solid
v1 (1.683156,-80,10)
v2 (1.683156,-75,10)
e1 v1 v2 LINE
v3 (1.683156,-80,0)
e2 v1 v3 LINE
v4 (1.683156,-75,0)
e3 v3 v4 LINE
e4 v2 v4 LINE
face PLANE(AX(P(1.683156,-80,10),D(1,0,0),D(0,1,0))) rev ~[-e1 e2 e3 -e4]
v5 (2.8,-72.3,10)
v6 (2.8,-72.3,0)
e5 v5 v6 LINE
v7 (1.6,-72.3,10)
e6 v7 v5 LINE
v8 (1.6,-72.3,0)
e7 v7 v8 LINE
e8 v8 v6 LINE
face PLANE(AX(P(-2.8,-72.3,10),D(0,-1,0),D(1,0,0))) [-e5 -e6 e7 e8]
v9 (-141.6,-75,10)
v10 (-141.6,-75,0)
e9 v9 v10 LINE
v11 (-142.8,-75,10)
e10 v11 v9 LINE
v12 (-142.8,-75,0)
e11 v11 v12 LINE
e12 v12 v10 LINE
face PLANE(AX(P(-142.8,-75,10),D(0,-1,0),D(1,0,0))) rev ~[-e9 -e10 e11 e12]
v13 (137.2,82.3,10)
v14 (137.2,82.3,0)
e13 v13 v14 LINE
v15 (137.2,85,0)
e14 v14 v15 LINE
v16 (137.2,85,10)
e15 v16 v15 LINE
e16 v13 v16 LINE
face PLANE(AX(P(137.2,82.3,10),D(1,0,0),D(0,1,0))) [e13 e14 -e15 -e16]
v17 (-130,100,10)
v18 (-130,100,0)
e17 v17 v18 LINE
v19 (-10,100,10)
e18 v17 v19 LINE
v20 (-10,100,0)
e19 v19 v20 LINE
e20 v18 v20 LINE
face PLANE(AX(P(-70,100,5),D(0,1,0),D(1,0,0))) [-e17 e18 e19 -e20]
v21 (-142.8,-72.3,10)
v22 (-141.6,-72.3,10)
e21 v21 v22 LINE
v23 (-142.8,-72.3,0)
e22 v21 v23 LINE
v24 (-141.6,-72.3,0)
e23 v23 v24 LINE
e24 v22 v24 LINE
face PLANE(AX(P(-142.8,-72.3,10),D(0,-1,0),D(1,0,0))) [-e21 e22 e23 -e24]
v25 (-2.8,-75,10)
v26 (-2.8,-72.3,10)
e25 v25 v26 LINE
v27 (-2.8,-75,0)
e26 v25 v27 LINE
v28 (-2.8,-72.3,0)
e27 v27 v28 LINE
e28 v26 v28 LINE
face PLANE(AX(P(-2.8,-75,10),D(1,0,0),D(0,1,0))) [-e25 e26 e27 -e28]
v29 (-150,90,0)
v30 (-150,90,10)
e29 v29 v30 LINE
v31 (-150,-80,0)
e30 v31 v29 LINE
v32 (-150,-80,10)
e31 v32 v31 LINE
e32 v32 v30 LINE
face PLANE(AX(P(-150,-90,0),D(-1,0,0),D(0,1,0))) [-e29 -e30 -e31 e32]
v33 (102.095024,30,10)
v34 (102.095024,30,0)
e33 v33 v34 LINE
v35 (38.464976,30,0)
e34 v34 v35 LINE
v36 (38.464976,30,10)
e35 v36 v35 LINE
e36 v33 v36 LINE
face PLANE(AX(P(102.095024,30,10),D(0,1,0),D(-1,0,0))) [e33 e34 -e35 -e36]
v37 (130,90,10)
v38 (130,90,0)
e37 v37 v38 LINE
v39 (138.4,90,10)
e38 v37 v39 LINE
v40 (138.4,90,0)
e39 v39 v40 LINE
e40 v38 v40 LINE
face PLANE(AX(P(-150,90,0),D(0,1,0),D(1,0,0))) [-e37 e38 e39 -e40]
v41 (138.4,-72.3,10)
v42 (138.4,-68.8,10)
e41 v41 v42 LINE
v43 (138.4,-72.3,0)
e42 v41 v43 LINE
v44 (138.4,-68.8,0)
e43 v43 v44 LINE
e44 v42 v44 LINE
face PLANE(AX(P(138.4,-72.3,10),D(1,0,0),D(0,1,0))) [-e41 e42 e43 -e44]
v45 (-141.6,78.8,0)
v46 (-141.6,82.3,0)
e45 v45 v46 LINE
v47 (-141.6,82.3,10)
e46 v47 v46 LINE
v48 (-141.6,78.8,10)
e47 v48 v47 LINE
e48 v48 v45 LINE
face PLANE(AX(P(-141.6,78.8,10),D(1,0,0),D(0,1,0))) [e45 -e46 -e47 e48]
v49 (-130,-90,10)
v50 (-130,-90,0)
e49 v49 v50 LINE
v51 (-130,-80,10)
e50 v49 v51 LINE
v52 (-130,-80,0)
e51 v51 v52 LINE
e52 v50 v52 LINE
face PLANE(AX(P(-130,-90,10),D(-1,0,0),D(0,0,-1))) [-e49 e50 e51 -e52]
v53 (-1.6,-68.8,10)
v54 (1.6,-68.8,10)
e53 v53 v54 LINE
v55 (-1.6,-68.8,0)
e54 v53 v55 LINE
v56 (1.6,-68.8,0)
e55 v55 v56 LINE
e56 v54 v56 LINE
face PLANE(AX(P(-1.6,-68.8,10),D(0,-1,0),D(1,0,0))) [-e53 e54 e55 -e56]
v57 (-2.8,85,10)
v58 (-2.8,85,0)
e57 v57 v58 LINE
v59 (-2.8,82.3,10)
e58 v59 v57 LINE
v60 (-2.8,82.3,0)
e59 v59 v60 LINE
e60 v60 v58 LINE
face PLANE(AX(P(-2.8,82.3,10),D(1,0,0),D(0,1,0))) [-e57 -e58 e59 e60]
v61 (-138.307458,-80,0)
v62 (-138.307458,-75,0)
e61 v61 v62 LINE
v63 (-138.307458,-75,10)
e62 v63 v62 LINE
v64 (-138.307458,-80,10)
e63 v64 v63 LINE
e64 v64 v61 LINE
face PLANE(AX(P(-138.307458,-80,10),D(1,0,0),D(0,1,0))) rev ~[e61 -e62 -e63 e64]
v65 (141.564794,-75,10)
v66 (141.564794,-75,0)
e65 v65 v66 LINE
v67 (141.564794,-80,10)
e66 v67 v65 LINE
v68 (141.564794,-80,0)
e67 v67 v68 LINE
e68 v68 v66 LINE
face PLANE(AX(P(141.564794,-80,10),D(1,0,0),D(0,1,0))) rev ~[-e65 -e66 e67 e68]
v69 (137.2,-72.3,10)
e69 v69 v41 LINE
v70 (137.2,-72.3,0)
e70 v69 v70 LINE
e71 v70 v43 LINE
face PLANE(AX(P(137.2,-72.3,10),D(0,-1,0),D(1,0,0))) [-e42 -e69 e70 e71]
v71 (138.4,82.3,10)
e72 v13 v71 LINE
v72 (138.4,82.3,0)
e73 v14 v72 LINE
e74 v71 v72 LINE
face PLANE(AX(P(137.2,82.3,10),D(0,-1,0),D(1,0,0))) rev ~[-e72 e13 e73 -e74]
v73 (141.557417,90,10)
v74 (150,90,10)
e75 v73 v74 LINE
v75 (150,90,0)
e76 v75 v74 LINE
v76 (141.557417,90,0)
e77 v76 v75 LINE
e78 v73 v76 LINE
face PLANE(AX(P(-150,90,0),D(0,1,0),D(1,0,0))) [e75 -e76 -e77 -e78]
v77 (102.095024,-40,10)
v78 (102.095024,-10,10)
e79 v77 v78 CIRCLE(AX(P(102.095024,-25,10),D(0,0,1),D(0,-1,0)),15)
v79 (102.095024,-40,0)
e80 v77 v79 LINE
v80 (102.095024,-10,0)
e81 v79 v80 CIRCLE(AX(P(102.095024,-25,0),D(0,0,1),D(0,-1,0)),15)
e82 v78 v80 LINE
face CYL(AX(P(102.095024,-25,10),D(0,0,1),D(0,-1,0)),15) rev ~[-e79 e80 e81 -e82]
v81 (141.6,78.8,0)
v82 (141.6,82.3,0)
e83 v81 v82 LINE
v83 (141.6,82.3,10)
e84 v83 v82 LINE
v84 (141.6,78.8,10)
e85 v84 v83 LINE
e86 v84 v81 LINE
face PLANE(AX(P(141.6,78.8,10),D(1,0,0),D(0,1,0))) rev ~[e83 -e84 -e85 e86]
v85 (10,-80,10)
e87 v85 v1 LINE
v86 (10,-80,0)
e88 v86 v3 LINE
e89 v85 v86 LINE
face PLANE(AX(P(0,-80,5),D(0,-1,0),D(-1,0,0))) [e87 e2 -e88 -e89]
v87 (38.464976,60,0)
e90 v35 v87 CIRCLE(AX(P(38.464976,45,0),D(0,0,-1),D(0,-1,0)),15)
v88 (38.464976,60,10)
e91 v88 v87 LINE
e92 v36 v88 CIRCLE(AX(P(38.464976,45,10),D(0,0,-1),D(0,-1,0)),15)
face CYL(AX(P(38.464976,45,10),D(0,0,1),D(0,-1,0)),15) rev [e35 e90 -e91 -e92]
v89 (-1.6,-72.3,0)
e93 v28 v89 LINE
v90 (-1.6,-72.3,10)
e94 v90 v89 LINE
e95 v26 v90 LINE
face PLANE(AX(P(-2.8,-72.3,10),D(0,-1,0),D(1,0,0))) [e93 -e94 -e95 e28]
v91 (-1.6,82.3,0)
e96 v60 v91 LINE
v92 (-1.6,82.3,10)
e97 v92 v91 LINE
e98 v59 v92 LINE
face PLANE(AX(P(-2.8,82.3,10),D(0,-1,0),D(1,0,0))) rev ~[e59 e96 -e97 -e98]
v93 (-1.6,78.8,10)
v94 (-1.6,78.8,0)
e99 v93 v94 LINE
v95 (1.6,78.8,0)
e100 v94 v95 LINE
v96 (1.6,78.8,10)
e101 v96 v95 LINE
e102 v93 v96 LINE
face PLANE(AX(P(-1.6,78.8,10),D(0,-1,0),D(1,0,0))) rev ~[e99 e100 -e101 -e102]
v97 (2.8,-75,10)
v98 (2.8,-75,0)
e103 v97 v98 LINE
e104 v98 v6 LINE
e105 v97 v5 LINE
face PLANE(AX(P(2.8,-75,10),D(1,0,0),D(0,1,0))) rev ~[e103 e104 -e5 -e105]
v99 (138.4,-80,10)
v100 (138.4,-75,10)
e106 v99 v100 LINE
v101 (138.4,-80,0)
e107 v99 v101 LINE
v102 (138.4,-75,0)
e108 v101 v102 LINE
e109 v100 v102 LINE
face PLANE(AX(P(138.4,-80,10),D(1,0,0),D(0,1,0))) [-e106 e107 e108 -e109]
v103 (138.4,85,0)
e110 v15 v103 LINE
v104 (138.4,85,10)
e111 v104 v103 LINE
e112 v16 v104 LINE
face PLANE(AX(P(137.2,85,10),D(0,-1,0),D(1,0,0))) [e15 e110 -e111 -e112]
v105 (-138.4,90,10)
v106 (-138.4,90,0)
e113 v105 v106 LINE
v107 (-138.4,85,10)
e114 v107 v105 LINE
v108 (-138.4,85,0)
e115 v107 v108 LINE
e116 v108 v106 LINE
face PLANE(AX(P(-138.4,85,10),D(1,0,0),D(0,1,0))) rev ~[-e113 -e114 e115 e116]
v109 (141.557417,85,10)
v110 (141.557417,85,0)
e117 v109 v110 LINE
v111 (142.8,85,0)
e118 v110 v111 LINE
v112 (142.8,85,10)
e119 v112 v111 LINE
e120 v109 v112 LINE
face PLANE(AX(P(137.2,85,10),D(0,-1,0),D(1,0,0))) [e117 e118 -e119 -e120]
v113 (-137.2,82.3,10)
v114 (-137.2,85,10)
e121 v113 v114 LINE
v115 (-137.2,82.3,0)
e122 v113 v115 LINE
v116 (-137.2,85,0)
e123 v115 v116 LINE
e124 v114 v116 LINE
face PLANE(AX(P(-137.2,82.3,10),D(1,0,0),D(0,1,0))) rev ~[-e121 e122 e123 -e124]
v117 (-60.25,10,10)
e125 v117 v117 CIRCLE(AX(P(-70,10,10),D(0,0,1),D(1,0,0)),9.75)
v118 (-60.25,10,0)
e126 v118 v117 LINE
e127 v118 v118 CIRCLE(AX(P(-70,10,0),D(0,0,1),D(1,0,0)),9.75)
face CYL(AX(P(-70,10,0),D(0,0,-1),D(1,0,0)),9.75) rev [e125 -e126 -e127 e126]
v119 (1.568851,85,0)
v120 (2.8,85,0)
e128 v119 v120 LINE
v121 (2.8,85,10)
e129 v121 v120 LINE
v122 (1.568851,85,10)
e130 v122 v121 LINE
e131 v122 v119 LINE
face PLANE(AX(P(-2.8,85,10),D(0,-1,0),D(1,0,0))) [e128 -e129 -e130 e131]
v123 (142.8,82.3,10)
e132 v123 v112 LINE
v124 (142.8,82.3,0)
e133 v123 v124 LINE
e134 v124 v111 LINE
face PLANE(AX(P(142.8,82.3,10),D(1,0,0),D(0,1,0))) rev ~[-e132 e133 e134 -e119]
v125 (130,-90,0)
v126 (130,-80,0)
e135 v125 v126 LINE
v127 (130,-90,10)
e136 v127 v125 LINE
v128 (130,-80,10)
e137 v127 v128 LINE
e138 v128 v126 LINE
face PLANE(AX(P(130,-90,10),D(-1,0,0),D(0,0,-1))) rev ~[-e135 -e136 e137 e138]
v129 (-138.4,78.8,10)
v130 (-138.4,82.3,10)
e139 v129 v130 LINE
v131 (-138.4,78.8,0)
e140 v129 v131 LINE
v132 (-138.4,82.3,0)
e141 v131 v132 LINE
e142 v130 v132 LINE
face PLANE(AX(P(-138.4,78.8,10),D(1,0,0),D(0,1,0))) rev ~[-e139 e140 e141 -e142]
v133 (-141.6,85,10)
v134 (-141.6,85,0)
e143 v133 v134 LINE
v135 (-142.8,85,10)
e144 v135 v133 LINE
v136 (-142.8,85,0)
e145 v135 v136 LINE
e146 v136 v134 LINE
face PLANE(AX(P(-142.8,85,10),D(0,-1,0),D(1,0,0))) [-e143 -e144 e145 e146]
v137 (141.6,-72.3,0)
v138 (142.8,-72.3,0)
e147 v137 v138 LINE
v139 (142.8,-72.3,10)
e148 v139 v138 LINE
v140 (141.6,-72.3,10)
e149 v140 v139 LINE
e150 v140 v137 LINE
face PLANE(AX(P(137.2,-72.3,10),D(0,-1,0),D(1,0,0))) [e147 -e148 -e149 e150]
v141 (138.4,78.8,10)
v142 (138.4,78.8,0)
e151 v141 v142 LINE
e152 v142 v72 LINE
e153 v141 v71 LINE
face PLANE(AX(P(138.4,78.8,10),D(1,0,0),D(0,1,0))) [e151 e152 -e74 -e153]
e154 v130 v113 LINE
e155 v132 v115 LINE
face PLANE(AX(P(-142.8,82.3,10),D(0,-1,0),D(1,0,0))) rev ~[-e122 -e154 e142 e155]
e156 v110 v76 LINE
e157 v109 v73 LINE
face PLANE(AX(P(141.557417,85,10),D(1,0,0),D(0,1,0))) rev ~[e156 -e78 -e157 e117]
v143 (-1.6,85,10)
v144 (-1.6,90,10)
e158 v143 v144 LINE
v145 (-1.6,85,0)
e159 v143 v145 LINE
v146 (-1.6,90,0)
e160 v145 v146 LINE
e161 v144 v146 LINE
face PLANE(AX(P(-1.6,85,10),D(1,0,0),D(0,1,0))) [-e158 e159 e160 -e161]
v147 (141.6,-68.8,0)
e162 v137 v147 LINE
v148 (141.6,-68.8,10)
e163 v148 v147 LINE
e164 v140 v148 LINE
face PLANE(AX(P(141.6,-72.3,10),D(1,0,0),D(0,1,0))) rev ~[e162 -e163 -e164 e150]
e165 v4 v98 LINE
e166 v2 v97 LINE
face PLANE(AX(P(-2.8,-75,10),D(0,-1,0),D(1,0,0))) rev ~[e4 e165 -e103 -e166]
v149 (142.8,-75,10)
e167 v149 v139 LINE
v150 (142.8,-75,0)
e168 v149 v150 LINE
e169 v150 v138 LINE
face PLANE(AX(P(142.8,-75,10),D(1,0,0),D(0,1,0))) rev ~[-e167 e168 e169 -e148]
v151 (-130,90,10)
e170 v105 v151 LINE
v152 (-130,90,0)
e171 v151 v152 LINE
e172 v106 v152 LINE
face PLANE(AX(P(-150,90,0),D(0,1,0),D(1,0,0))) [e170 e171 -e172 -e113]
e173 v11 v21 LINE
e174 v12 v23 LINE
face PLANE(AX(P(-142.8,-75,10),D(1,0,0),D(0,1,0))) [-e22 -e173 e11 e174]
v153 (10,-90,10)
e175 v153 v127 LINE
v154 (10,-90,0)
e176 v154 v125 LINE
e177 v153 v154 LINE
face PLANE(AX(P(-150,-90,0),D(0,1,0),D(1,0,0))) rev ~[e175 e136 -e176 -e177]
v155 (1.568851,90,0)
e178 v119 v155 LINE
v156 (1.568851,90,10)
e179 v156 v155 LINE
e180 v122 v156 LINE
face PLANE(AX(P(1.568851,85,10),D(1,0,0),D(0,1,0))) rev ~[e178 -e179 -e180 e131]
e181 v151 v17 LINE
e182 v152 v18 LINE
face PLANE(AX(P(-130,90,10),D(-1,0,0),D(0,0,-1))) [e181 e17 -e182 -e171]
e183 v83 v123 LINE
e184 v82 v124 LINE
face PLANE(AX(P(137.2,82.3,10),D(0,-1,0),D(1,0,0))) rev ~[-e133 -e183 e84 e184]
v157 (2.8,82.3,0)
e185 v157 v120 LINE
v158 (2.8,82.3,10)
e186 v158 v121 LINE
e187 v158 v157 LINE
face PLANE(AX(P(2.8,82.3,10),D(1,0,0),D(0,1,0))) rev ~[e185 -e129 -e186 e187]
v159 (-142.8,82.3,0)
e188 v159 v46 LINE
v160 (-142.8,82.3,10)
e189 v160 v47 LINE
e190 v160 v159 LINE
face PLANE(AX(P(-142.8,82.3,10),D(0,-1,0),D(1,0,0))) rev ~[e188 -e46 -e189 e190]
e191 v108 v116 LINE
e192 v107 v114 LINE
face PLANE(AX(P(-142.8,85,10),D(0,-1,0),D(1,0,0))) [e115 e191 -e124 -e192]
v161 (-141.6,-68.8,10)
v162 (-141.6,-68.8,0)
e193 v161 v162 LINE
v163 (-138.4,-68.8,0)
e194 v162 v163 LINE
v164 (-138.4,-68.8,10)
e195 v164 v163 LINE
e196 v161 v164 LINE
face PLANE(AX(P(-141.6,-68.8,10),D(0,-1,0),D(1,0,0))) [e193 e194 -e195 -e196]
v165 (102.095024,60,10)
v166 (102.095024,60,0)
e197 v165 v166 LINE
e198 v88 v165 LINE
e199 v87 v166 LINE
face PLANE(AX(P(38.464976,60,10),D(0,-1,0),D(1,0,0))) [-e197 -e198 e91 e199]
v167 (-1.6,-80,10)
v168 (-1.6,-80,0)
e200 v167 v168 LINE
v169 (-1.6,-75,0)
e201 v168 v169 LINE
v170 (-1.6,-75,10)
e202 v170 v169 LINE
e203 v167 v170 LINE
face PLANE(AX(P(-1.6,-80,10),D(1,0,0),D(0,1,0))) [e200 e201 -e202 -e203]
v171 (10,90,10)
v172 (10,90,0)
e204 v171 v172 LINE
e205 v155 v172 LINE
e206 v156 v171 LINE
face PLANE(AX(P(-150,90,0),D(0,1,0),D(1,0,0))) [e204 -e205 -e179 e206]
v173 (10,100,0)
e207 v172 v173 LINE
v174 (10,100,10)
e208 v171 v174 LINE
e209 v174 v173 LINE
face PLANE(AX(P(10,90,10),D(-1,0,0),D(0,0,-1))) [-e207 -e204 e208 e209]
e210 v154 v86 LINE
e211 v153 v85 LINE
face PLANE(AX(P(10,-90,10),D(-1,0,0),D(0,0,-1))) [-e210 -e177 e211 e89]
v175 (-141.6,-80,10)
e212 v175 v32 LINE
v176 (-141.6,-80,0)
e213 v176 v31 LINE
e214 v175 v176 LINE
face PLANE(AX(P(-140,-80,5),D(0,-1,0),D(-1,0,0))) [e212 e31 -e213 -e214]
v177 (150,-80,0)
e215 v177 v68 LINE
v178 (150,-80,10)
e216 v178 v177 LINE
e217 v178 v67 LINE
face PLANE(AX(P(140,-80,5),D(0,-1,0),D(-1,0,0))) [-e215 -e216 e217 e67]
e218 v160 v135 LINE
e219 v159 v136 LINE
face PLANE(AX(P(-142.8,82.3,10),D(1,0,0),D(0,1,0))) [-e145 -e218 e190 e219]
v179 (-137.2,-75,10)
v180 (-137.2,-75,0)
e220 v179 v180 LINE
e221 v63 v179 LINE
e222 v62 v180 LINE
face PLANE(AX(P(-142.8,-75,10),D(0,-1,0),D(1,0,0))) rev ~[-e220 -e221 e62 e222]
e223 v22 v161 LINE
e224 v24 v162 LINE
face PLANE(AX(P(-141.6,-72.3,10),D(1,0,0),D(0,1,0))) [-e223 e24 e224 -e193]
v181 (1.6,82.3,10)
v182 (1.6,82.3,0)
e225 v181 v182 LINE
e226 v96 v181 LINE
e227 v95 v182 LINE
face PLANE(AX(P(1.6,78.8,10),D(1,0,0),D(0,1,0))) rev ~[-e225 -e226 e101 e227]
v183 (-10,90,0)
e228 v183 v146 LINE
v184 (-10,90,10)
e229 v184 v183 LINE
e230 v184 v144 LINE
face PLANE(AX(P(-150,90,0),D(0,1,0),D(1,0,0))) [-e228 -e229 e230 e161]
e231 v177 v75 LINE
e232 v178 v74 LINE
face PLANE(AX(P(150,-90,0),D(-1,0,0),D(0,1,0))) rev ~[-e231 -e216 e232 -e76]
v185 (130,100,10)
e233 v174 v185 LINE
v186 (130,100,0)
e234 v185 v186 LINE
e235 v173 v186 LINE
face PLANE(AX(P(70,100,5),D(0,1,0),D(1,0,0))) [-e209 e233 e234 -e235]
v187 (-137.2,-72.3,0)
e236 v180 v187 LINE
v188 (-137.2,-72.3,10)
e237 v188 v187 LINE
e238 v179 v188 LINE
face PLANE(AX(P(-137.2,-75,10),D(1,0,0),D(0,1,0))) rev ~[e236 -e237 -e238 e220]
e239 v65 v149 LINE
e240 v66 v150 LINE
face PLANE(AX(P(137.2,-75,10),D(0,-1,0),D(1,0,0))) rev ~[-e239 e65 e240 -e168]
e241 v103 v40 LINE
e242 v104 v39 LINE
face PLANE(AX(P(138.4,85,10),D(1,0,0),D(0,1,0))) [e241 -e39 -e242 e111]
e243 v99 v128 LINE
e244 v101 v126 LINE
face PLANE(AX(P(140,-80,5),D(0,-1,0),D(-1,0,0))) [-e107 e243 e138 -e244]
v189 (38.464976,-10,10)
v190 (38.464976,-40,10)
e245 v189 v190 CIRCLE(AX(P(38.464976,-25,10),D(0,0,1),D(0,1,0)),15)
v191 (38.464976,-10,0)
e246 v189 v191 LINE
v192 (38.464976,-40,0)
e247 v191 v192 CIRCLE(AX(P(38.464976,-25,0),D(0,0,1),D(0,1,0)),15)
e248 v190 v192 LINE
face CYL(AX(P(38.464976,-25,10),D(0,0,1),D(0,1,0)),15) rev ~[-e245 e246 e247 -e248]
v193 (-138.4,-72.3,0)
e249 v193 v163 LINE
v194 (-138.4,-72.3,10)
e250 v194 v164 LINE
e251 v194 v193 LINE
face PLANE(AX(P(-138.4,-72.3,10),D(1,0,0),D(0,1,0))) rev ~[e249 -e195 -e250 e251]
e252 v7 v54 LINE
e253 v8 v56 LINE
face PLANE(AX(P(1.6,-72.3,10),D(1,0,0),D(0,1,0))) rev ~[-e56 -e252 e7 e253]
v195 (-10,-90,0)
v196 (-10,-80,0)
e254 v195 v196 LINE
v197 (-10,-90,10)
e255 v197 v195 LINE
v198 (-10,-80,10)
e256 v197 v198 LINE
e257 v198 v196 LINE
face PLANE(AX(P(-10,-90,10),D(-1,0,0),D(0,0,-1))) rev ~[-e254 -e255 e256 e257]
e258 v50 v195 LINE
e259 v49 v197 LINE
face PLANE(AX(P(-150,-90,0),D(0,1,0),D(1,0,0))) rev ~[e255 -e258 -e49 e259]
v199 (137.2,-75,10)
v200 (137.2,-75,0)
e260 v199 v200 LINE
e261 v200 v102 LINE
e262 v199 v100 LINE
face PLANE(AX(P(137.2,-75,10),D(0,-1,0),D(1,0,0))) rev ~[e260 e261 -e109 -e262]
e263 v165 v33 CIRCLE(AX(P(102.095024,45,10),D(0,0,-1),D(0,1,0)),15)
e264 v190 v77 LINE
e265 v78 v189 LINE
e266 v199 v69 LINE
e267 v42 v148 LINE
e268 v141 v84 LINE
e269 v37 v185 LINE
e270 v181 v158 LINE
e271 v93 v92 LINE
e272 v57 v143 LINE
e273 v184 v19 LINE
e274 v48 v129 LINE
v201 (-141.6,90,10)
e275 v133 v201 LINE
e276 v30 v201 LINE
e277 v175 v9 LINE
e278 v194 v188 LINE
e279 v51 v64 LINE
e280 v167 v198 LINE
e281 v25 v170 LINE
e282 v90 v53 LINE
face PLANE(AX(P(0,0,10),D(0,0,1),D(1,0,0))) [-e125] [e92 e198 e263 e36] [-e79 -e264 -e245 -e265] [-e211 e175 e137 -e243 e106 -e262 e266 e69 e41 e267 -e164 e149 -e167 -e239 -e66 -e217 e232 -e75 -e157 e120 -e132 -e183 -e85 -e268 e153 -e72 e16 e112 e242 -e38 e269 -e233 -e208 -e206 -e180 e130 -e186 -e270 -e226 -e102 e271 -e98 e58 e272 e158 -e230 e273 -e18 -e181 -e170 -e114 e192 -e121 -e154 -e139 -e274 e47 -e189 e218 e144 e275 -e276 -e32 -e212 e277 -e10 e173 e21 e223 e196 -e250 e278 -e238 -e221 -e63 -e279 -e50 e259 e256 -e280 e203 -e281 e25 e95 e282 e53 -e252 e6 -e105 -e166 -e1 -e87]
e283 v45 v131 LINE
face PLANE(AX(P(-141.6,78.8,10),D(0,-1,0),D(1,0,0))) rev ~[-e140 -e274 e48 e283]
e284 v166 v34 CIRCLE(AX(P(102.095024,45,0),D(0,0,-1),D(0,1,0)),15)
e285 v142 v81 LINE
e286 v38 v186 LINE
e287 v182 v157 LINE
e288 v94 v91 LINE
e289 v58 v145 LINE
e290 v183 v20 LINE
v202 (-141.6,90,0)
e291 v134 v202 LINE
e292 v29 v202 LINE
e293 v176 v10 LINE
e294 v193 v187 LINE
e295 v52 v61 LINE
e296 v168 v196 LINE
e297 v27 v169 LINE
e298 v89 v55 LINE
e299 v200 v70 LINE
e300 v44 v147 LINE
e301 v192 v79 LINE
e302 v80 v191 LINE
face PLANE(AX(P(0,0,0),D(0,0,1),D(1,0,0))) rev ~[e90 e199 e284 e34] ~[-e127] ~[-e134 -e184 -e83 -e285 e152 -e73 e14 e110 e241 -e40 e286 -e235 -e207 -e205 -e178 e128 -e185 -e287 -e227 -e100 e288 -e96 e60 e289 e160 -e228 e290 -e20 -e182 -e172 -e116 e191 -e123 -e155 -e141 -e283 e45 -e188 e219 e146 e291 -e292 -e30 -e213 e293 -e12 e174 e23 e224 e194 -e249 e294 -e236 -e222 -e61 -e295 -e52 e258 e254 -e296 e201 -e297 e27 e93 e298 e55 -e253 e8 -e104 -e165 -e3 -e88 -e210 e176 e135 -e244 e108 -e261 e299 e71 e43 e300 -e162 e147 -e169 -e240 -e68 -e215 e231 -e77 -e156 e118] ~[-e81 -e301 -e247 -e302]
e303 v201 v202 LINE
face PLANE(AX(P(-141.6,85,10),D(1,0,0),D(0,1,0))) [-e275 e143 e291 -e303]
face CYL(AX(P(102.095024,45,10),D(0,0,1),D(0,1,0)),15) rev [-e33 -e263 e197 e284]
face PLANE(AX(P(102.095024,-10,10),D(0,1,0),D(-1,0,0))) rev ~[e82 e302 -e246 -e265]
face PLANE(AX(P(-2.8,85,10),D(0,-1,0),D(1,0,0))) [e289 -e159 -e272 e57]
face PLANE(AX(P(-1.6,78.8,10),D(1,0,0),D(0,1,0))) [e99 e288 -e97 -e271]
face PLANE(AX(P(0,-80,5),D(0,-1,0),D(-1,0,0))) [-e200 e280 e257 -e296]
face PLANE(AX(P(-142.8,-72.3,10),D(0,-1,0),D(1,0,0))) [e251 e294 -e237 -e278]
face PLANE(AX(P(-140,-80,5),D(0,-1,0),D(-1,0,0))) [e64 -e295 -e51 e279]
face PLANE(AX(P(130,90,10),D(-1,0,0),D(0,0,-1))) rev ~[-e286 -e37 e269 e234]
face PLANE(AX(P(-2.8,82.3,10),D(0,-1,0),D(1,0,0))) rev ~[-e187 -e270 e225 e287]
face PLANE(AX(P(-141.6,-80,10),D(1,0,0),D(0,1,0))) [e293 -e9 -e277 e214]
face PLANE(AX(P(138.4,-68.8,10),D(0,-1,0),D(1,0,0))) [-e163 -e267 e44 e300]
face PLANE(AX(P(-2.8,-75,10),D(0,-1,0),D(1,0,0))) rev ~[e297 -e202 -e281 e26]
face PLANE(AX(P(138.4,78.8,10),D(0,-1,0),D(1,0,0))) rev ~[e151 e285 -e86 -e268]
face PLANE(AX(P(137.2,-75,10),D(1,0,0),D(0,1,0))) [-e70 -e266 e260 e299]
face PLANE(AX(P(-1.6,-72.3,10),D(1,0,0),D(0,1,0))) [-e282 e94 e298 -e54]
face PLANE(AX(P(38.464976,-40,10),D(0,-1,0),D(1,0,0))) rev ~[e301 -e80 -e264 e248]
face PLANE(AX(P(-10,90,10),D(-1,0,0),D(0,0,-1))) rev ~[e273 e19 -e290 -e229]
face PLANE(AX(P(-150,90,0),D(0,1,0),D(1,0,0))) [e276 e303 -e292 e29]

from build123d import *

# Parameters (mm, degrees)
IZIM1_W                     = 300
IZIM1_H                     = 180
IZIM1_R                     = 9.75
Y_KSEKLIK_EKSTR_ZYON1_DEPTH = 10
IZIM2_W                     = 120
IZIM2_H                     = 10
Y_KSEKLIK_EKSTR_ZYON2_DEPTH = 10
IZIM3_W                     = 20
IZIM3_H                     = 10
KES_EKSTR_ZYON1_DEPTH       = 10
IZIM4_W                     = 5.6
IZIM4_H                     = 2.7
KES_EKSTR_ZYON2_DEPTH       = 10
IZIM5_W                     = 3.2
IZIM5_H                     = 3.5
IZIM5_W_2                   = 3.168851203
IZIM5_H_2                   = 5
IZIM5_H_3                   = 5.09138305
IZIM5_W_3                   = 3.157417266
IZIM5_W_4                   = 3.164794192
IZIM5_W_5                   = 3.283155767
IZIM5_W_6                   = 3.292541888
KES_EKSTR_ZYON3_DEPTH       = 10
KES_EKSTR_ZYON4_DEPTH       = 10


with BuildPart() as part:
    # Çizim1 → Yükseklik-Ekstrüzyon1 (new body)
    with BuildSketch(Plane.XY):
        Rectangle(IZIM1_W, IZIM1_H)
        with Locations((-70, 10)):
            Circle(IZIM1_R, mode=Mode.SUBTRACT)
    extrude(amount=Y_KSEKLIK_EKSTR_ZYON1_DEPTH)

    # Çizim2 → Yükseklik-Ekstrüzyon2 (add)
    with BuildSketch(Plane(origin=(0, 90, 0), x_dir=(1, 0, 0), z_dir=(0, 1, 0))):
        with Locations((70, -5)):
            Rectangle(IZIM2_W, IZIM2_H)
        with Locations((-70, -5)):
            Rectangle(IZIM2_W, IZIM2_H)
    extrude(amount=Y_KSEKLIK_EKSTR_ZYON2_DEPTH)

    # Çizim3 → Kes-Ekstrüzyon1 (cut)
    with BuildSketch(Plane(origin=(0, -90, 0), x_dir=(-1, 0, 0), z_dir=(0, -1, 0))):
        with Locations((140, -5)):
            Rectangle(IZIM3_W, IZIM3_H)
        with Locations((-140, -5)):
            Rectangle(IZIM3_W, IZIM3_H)
        with Locations((0, -5)):
            Rectangle(IZIM3_W, IZIM3_H)
    extrude(amount=-KES_EKSTR_ZYON1_DEPTH, mode=Mode.SUBTRACT)

    # Çizim4 → Kes-Ekstrüzyon2 (cut)
    with BuildSketch(Plane.XY.offset(10)):
        with Locations((-140, 83.65)):
            Rectangle(IZIM4_W, IZIM4_H)
        with Locations((0, 83.65)):
            Rectangle(IZIM4_W, IZIM4_H)
        with Locations((140, 83.65)):
            Rectangle(IZIM4_W, IZIM4_H)
        with Locations((-140, -73.65)):
            Rectangle(IZIM4_W, IZIM4_H)
        with Locations((0, -73.65)):
            Rectangle(IZIM4_W, IZIM4_H)
        with Locations((140, -73.65)):
            Rectangle(IZIM4_W, IZIM4_H)
    extrude(amount=-KES_EKSTR_ZYON2_DEPTH, mode=Mode.SUBTRACT)

    # Çizim5 → Kes-Ekstrüzyon3 (cut)
    with BuildSketch(Plane.XY.offset(10)):
        with Locations((-140, 80.55)):
            Rectangle(IZIM5_W, IZIM5_H)
        with Locations((0, 80.55)):
            Rectangle(IZIM5_W, IZIM5_H)
        with Locations((140, 80.55)):
            Rectangle(IZIM5_W, IZIM5_H)
        with Locations((-140, -70.55)):
            Rectangle(IZIM5_W, IZIM5_H)
        with Locations((0, -70.55)):
            Rectangle(IZIM5_W, IZIM5_H)
        with Locations((-0.015574398, 87.5)):
            Rectangle(IZIM5_W_2, IZIM5_H_2)
        with Locations((140, -70.55)):
            Rectangle(IZIM5_W, IZIM5_H)
        with Locations((-140, 87.545691525)):
            Rectangle(IZIM5_W, IZIM5_H_3)
        with Locations((139.978708633, 87.5)):
            Rectangle(IZIM5_W_3, IZIM5_H_2)
        with Locations((139.982397096, -77.5)):
            Rectangle(IZIM5_W_4, IZIM5_H_2)
        with Locations((0.041577884, -77.5)):
            Rectangle(IZIM5_W_5, IZIM5_H_2)
        with Locations((-139.953729056, -77.5)):
            Rectangle(IZIM5_W_6, IZIM5_H_2)
    extrude(amount=-KES_EKSTR_ZYON3_DEPTH, mode=Mode.SUBTRACT)

    # Çizim6 → Kes-Ekstrüzyon4 (cut)
    with BuildSketch(Plane.XY.offset(10)):
        with BuildLine():
            Line((38.464975521, 60), (102.095024479, 60))
            ThreePointArc((102.095024479, 60), (117.095024479, 45), (102.095024479, 30))
            Line((102.095024479, 30), (38.464975521, 30))
            ThreePointArc((38.464975521, 30), (23.464975521, 45), (38.464975521, 60))
        make_face()
        with BuildLine():
            Line((38.464975521, -40), (102.095024479, -40))
            ThreePointArc((102.095024479, -40), (117.095024479, -25), (102.095024479, -10))
            Line((102.095024479, -10), (38.464975521, -10))
            ThreePointArc((38.464975521, -10), (23.464975521, -25), (38.464975521, -40))
        make_face()
    extrude(amount=-KES_EKSTR_ZYON4_DEPTH, mode=Mode.SUBTRACT)


solid = part.part
